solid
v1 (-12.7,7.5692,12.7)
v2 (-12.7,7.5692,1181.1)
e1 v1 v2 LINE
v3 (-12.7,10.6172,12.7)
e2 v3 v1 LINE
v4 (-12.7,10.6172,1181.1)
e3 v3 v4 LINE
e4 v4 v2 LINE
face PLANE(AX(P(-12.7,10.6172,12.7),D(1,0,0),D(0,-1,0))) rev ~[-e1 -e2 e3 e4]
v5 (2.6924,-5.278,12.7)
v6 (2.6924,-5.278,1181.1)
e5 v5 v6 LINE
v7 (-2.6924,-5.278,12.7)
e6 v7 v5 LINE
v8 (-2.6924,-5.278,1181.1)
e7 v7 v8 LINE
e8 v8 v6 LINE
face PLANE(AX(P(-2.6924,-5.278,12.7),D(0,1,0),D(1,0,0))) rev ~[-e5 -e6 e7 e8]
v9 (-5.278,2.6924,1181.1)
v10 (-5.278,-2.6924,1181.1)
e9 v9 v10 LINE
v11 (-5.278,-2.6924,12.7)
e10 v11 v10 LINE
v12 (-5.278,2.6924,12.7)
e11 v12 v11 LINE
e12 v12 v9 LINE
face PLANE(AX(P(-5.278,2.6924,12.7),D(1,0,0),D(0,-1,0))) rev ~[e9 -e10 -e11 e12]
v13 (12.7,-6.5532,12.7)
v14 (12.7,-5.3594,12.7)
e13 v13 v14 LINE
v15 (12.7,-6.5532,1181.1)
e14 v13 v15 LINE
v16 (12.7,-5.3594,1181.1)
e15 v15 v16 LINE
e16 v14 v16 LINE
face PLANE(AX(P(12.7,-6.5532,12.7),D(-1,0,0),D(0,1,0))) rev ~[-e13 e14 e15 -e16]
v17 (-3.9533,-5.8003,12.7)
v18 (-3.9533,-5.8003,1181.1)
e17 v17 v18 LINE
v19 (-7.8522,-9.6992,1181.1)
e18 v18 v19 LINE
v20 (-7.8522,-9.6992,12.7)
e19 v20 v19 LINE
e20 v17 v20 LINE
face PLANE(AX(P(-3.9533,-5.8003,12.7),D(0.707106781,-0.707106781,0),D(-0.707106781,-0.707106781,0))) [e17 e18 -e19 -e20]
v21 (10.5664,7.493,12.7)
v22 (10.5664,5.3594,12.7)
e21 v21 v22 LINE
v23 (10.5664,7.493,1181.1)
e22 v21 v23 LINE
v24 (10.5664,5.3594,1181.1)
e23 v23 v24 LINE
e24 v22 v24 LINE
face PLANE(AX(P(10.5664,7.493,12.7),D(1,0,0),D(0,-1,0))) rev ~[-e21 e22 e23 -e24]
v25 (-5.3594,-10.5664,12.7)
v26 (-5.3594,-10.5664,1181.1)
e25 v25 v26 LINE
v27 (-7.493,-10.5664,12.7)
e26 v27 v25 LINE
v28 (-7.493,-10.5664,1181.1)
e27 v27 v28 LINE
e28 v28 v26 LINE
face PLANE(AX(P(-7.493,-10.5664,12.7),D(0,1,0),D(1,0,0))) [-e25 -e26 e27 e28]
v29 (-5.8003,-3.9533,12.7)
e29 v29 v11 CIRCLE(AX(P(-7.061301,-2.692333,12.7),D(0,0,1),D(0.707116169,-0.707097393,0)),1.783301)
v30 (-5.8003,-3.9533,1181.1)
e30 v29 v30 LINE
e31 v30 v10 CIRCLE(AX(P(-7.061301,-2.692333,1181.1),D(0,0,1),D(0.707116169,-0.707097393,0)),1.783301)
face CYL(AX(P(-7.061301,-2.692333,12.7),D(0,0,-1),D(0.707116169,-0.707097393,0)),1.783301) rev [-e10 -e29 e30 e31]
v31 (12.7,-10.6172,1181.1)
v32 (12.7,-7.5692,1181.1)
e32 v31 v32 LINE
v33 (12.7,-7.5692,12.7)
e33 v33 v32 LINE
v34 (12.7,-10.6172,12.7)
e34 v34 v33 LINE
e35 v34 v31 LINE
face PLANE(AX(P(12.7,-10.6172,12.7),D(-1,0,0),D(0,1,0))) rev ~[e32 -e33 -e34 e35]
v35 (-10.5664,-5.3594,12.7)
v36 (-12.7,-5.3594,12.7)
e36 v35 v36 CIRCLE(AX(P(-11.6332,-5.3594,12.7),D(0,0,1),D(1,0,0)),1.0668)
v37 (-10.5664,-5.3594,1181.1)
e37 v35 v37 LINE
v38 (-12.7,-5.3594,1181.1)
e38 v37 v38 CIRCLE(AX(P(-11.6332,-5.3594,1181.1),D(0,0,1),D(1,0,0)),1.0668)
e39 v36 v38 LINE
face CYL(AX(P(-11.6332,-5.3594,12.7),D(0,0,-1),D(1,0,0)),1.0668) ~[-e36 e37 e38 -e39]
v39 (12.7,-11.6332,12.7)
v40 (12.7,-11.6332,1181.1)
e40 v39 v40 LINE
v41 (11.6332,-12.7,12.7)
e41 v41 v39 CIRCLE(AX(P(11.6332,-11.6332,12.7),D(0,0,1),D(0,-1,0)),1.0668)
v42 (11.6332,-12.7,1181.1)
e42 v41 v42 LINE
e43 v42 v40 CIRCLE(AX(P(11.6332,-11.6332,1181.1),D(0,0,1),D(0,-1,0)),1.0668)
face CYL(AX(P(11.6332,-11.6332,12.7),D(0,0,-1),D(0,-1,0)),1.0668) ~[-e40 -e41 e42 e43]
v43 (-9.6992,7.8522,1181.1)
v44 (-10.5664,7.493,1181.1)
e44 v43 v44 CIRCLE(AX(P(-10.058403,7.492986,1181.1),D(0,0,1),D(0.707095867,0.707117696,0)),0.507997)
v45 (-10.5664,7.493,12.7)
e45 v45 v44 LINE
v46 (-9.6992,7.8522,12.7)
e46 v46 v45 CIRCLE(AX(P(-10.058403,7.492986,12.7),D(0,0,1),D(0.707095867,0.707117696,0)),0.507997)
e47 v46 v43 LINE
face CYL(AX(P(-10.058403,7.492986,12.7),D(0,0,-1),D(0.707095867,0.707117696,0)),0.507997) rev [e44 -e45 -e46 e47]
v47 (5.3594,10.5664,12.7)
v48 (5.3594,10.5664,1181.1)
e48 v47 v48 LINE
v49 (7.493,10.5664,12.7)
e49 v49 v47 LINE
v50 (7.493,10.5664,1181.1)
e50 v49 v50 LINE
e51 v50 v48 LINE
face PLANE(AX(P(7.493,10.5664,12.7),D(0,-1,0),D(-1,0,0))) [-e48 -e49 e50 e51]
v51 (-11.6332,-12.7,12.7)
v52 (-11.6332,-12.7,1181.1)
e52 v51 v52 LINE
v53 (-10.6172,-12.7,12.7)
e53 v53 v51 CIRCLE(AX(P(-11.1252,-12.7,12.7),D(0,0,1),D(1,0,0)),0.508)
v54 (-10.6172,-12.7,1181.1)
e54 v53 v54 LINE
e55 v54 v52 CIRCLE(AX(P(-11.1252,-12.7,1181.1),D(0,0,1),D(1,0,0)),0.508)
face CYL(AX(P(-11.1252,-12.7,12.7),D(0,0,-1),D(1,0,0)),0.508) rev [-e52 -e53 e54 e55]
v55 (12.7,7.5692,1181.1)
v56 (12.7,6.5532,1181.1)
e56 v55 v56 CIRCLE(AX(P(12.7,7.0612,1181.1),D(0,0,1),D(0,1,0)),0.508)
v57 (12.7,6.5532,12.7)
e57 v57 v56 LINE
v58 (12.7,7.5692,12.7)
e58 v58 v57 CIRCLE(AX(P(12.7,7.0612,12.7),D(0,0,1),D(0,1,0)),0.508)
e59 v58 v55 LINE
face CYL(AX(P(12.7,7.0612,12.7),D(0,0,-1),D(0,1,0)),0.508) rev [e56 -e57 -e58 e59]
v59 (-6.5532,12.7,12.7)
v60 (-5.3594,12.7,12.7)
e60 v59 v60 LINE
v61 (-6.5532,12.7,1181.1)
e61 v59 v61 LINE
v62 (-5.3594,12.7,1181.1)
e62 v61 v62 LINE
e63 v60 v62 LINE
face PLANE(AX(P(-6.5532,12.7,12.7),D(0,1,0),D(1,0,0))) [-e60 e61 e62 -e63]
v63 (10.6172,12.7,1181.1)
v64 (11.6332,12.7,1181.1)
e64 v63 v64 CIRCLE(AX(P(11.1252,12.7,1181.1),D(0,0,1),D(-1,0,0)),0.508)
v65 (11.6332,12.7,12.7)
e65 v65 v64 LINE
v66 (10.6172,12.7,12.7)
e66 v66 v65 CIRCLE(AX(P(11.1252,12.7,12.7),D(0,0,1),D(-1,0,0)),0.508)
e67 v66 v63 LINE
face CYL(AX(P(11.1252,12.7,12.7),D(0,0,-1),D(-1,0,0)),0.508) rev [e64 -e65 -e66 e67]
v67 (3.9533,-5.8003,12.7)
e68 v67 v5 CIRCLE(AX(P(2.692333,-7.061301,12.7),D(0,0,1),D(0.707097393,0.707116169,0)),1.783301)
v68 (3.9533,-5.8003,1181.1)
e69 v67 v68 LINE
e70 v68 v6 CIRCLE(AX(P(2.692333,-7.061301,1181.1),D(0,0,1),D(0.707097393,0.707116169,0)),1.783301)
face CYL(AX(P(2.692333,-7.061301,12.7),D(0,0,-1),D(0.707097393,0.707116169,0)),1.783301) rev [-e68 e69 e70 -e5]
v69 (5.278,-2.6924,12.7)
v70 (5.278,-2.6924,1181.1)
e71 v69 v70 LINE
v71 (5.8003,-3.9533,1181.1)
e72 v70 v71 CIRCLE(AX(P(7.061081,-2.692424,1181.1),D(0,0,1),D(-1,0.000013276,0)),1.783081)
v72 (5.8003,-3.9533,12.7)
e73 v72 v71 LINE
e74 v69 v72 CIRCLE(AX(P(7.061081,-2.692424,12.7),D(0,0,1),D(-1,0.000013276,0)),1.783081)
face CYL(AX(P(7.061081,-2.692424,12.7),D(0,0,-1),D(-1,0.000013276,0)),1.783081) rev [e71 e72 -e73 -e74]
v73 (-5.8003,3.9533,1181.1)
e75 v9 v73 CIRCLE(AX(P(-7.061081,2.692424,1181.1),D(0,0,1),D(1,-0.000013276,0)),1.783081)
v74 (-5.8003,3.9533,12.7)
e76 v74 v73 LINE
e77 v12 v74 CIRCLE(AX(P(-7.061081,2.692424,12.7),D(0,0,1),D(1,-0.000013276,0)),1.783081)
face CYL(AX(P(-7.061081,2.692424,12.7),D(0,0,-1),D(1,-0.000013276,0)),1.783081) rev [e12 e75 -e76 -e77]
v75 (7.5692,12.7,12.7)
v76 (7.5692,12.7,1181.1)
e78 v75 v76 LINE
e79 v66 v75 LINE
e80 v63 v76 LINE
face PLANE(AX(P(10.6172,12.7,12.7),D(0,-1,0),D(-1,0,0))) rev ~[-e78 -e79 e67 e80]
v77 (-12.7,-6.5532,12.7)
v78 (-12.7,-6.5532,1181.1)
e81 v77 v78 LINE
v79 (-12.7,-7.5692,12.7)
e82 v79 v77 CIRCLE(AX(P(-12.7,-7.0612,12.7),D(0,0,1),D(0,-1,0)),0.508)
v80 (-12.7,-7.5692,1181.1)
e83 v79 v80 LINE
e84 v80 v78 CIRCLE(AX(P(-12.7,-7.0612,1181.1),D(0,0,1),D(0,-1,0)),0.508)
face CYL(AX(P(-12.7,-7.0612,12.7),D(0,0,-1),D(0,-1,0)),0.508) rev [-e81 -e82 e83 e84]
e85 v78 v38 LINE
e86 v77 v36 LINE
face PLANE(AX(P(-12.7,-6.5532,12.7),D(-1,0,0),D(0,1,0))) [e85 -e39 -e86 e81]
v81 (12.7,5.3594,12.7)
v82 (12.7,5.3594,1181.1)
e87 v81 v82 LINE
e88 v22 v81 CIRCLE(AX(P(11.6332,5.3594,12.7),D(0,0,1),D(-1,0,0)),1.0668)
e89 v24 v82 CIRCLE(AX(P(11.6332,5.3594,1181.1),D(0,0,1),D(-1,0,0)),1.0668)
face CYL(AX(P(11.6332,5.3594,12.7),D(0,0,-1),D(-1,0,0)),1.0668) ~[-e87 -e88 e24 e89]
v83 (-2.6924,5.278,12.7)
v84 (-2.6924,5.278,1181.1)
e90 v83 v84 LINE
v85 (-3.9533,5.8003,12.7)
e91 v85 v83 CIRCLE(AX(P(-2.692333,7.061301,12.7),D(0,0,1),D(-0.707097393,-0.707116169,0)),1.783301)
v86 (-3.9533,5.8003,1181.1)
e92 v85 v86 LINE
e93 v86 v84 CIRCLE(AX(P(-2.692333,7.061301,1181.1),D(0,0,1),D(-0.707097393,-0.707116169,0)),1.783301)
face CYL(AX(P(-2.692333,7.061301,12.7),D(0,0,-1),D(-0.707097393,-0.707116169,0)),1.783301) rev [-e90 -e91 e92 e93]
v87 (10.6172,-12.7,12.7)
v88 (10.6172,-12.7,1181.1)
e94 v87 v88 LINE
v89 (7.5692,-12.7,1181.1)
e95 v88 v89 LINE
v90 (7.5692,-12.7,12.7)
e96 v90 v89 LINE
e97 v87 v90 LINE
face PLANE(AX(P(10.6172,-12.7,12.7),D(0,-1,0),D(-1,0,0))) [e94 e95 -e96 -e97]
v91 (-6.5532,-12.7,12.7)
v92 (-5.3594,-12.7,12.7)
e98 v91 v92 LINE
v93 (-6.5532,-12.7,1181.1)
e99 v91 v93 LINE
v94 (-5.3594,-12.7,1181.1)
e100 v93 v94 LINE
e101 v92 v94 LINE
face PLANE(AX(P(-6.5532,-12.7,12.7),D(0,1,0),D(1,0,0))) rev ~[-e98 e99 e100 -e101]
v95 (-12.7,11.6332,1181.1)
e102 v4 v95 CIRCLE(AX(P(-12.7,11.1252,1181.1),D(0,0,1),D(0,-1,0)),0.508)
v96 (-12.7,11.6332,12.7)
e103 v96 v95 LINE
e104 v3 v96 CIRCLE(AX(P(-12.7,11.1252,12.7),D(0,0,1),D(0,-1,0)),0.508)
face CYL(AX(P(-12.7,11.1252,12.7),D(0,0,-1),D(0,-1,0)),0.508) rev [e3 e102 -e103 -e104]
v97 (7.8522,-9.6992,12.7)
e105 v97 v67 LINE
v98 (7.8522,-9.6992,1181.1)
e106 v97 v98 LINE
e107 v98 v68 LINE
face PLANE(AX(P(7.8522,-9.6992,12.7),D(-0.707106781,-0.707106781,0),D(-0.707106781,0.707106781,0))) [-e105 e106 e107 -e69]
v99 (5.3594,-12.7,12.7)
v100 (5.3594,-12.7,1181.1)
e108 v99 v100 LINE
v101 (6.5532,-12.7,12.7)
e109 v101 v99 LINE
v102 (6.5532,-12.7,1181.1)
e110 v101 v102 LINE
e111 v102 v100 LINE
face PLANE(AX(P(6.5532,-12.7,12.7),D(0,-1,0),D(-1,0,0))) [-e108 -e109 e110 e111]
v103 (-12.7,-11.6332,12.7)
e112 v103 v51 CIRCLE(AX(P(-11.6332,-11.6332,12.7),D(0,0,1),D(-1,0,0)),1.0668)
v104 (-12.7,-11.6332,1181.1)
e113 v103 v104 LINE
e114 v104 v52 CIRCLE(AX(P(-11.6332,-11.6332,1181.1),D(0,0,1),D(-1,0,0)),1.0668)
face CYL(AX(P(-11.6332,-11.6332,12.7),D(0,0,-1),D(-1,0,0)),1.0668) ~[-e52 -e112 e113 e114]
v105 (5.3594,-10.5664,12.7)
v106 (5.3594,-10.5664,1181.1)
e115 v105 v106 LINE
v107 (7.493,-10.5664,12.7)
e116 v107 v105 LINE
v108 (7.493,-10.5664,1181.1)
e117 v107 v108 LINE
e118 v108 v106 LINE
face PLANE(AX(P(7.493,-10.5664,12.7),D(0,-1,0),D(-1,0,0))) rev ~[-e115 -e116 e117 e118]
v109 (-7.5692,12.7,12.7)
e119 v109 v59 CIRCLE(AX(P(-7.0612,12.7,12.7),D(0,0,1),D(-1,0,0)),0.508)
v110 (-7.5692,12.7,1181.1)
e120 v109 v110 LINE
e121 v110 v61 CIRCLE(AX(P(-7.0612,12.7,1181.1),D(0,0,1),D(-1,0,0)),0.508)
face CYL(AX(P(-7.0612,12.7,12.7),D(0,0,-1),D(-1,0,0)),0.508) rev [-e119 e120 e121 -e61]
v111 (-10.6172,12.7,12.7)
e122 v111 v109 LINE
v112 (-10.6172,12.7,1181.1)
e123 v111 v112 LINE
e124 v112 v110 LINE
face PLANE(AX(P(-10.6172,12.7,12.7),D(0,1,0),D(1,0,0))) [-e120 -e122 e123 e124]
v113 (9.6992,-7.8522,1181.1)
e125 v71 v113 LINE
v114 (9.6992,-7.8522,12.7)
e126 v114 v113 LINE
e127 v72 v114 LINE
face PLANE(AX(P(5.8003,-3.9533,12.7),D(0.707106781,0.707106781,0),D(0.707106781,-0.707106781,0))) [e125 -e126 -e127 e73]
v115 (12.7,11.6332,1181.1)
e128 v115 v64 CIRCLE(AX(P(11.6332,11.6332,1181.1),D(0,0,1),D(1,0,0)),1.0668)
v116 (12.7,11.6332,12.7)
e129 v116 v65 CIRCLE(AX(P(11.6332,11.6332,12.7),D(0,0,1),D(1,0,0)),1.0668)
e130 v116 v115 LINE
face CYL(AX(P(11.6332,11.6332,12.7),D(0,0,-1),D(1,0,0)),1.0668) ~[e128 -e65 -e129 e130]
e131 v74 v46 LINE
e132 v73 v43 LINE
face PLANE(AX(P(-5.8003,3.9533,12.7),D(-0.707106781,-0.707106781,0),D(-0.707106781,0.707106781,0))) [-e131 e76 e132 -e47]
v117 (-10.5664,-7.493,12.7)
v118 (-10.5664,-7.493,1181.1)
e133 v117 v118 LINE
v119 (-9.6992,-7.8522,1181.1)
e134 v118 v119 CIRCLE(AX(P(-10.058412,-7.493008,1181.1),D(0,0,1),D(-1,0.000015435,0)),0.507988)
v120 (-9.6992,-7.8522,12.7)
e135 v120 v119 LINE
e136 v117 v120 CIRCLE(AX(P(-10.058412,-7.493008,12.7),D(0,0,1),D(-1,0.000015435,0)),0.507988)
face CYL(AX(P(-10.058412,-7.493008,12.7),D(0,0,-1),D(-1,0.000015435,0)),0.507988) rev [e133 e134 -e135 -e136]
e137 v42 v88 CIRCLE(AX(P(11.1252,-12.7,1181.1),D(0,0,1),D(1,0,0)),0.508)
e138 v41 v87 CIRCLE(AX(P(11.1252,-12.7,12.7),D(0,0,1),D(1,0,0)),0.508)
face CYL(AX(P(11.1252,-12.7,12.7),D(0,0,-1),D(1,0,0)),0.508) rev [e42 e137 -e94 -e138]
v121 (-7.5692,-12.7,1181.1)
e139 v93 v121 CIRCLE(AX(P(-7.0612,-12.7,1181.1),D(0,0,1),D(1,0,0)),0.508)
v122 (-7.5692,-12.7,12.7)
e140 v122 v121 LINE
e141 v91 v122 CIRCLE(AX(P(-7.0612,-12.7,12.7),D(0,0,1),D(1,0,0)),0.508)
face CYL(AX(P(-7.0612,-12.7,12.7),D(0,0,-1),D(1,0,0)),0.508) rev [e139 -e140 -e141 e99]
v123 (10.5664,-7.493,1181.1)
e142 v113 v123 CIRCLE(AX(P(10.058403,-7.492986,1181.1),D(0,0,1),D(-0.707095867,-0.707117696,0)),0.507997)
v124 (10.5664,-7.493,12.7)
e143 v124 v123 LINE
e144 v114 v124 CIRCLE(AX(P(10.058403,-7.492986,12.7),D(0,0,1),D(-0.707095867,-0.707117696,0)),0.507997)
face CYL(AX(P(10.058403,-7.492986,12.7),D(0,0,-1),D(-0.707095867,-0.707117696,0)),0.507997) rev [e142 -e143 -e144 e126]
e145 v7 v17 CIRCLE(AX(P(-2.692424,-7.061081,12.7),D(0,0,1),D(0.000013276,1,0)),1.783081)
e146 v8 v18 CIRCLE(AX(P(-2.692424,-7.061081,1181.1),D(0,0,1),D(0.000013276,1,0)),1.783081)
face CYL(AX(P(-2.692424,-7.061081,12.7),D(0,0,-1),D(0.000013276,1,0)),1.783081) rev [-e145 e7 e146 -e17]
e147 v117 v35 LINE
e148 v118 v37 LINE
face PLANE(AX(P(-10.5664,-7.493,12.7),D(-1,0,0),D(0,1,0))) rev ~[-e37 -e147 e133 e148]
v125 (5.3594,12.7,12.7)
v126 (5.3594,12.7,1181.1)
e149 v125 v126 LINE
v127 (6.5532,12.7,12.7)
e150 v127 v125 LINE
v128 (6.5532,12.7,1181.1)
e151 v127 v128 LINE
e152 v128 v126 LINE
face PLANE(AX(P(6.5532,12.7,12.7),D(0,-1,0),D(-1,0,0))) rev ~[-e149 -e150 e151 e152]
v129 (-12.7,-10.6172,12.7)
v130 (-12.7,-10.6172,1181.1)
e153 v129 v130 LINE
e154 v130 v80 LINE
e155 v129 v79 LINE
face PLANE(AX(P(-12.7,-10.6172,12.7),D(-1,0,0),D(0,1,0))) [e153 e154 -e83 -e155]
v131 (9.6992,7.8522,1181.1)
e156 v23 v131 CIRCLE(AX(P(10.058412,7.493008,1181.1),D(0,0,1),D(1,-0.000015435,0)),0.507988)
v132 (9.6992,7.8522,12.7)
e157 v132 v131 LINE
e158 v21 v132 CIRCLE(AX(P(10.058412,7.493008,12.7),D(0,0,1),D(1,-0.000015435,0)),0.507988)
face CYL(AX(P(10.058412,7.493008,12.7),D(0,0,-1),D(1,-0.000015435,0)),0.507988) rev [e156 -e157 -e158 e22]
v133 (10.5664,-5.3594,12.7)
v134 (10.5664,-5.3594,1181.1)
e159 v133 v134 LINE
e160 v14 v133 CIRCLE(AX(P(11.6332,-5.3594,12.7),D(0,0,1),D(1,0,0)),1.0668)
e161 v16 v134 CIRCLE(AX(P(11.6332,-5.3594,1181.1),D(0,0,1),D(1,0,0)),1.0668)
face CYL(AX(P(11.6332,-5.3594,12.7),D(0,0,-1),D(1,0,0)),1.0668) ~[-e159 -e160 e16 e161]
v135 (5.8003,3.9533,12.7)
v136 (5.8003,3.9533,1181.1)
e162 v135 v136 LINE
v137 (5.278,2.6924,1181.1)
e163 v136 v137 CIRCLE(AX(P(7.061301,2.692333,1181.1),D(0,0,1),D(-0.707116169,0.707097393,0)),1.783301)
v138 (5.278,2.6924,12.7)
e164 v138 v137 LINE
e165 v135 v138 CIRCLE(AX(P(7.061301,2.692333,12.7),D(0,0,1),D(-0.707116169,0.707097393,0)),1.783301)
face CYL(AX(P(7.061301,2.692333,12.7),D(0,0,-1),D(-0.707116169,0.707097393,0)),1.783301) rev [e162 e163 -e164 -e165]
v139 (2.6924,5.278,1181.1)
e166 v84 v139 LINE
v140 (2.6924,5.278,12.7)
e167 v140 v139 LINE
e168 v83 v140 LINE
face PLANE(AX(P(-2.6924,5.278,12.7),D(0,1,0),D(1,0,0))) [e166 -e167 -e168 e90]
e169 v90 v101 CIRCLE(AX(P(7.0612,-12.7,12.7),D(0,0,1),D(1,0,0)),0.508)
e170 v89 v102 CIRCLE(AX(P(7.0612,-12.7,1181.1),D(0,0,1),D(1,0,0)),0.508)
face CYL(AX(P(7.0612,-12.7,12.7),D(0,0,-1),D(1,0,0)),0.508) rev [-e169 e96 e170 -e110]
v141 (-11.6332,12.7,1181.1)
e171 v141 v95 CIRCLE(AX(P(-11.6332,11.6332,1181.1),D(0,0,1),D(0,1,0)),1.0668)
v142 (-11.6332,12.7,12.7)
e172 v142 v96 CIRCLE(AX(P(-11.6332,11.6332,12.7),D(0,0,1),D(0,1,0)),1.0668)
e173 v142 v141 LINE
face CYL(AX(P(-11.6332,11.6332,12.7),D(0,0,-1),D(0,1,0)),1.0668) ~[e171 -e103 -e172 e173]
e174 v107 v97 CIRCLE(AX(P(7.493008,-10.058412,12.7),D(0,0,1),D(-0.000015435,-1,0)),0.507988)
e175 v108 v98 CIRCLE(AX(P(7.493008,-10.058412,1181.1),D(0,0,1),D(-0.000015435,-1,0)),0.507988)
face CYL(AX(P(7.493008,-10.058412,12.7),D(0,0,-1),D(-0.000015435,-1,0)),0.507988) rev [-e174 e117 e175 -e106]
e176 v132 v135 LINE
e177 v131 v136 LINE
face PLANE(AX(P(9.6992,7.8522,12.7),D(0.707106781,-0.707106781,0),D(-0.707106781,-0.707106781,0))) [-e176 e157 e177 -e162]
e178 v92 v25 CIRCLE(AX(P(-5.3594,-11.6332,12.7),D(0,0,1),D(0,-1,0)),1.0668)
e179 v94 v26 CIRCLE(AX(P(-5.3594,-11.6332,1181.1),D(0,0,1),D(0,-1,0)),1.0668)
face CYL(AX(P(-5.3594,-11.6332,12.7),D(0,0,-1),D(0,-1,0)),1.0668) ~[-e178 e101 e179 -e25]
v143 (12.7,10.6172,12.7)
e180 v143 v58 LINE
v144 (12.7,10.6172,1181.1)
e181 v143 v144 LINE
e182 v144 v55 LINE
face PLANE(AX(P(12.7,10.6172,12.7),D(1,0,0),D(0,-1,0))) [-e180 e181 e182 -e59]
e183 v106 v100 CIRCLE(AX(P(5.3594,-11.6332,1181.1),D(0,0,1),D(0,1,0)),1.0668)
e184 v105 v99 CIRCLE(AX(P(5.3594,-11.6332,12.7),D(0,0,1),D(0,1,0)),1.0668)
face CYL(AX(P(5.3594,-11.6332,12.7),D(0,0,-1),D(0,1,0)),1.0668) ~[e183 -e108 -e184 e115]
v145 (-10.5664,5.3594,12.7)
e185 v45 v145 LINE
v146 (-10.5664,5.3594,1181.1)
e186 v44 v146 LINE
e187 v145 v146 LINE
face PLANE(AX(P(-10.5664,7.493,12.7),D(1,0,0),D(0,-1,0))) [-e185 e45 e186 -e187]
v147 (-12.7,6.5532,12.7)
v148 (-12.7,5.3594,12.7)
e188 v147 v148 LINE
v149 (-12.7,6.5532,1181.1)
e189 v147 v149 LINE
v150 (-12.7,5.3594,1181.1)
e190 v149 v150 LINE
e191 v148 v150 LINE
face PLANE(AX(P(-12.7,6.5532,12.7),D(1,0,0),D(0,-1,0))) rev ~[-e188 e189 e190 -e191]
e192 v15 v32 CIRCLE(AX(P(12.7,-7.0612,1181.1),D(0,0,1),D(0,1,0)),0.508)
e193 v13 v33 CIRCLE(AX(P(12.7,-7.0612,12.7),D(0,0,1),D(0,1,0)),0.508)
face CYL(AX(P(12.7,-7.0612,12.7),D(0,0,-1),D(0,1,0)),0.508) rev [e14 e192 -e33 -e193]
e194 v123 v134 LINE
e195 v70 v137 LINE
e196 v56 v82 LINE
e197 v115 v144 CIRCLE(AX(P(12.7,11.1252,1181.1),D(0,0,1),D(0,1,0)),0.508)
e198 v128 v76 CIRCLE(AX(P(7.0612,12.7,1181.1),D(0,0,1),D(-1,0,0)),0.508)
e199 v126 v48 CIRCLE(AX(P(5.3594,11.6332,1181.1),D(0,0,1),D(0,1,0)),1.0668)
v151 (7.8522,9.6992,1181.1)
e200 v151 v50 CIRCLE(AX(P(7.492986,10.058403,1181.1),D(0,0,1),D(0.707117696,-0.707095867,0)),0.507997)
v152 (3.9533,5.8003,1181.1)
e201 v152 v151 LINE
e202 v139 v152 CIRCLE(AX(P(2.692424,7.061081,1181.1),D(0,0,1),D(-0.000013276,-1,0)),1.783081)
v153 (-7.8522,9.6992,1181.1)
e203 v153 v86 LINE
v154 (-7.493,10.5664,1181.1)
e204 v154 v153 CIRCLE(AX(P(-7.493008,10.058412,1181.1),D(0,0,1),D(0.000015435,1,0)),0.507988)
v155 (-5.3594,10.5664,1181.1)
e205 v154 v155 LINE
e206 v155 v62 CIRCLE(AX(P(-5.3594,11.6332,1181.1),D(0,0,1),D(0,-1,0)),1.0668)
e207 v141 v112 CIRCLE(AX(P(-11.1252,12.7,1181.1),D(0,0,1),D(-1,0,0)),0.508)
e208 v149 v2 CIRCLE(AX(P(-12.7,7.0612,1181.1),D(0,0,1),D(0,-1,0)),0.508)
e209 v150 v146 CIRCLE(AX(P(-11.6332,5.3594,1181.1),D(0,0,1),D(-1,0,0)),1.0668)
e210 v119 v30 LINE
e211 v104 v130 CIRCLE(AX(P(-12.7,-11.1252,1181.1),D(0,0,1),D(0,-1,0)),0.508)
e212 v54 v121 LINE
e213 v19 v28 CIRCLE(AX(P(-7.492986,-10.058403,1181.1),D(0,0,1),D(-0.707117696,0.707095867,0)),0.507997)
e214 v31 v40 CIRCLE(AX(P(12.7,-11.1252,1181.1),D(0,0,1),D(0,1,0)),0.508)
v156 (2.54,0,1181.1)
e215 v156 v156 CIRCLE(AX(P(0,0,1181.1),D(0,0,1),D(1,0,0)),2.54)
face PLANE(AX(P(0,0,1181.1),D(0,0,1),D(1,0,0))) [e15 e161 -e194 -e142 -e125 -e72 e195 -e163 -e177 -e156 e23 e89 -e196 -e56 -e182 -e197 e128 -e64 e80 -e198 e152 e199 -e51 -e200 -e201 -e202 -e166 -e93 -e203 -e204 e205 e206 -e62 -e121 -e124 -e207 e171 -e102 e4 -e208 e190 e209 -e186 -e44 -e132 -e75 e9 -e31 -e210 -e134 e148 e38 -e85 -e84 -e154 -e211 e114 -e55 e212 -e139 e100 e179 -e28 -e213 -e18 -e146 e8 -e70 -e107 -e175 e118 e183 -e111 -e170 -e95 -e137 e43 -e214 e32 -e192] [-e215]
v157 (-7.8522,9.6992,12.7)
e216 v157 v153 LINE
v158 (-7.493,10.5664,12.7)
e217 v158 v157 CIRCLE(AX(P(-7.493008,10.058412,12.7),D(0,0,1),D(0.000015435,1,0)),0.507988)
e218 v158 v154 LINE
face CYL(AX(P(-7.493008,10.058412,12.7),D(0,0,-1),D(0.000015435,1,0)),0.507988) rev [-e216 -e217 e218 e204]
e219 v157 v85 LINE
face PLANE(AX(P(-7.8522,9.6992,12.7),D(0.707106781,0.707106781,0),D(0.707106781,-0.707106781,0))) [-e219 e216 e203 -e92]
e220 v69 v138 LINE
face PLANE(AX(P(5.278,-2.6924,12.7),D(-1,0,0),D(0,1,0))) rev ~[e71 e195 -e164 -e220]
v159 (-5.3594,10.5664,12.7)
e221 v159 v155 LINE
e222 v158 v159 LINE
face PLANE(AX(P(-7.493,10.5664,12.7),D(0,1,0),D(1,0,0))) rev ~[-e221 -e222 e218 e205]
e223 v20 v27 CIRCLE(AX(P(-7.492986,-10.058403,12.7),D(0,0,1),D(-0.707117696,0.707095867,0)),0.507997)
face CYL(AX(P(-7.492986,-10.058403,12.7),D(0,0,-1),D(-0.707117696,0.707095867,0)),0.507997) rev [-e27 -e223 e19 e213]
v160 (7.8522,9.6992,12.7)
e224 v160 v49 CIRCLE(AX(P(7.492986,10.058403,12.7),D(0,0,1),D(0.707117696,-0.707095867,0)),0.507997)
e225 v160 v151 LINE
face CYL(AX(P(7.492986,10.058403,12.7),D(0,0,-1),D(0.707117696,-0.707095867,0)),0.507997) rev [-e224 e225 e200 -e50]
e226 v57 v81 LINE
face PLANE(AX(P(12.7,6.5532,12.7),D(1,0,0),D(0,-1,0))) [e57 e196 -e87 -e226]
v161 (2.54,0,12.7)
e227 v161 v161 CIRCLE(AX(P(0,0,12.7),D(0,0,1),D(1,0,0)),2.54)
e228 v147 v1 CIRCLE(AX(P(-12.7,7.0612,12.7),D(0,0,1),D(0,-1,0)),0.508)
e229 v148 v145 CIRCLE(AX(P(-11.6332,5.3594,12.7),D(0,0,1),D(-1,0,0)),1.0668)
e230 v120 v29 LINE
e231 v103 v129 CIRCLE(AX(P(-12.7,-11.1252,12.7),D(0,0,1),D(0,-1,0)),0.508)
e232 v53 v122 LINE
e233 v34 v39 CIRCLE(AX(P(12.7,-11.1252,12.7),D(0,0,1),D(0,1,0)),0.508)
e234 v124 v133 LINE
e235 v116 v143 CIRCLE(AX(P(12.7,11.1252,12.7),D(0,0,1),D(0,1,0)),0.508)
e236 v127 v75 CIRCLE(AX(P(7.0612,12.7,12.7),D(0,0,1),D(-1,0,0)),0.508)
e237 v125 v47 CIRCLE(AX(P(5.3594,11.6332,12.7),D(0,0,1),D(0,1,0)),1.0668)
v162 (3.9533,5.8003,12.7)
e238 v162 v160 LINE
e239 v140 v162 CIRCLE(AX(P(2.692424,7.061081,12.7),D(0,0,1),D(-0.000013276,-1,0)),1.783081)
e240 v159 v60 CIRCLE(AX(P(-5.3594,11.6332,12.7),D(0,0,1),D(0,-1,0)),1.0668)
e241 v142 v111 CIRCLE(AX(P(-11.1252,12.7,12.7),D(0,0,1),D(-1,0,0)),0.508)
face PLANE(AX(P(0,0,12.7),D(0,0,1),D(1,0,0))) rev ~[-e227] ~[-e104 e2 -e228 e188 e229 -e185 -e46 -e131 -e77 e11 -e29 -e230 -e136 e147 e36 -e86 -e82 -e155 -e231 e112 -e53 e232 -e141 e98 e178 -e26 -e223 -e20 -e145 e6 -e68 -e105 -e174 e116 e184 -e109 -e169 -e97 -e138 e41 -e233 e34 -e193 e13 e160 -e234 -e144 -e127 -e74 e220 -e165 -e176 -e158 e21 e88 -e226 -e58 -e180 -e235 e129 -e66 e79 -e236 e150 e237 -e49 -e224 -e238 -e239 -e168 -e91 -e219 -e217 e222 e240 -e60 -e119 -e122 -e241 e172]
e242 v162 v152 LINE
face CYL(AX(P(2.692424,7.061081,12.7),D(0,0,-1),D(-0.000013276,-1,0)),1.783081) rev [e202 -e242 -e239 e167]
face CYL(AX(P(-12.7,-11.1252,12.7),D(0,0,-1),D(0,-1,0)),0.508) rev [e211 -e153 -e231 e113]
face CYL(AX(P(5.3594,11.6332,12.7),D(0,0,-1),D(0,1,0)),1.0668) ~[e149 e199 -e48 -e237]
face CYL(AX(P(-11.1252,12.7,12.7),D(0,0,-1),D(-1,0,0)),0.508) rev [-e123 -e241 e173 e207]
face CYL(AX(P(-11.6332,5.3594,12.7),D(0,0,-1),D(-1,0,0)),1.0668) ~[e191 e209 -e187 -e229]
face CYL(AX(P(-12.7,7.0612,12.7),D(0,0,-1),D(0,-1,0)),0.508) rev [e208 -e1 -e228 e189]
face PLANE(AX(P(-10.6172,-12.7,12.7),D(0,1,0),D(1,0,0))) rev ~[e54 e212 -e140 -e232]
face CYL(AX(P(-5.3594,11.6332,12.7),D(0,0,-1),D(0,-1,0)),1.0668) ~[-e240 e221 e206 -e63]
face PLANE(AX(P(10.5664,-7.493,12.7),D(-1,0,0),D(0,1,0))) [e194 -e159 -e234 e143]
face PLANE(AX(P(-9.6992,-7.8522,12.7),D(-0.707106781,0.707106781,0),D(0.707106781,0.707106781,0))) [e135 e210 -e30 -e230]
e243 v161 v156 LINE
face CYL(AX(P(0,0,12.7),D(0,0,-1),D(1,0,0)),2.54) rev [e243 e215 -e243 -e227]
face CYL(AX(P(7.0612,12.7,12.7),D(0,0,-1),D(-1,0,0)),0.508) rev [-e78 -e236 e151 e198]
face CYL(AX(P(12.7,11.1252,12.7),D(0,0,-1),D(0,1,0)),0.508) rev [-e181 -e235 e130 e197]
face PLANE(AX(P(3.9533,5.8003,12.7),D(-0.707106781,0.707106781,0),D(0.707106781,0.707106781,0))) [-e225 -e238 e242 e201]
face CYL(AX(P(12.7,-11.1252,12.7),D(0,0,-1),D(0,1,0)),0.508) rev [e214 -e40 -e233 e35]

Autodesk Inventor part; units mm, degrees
ref_plane "Start Plane" through (0, 0, 12.7) normal (0, 0, 1) x (1, 0, 0)
ref_plane "End Plane" through (0, 0, 1181.1) normal (0, 0, 1) x (1, 0, 0)
sketch "Sketch" plane through (0, 0, 0) normal (0, 0, 1) x (1, 0, 0)
  arc A0 (-11.6332, 12.7) -> (-12.7, 11.6332) centre (-11.6332, 11.6332) ccw
  arc A1 (-5.3594, 10.5664) -> (-5.3594, 12.7) centre (-5.3594, 11.6332) ccw
  arc A2 (-12.7, 5.3594) -> (-10.5664, 5.3594) centre (-11.6332, 5.3594) ccw
  line L0 (-10.5664, 7.493) -> (-10.5664, 5.3594)
  line L1 (-7.493, 10.5664) -> (-5.3594, 10.5664)
  arc A3 (-9.6992, 7.8522) -> (-10.5664, 7.493) centre (-10.0584, 7.493) ccw
  arc A4 (-7.493, 10.5664) -> (-7.8522, 9.6992) centre (-7.493, 10.0584) ccw
  line L2 (-11.6332, 11.6332) -> (0, 0) construction
  line L3 (-5.8003, 3.9533) -> (-9.6992, 7.8522)
  line L4 (-7.8522, 9.6992) -> (-3.9533, 5.8003)
  arc A5 (-3.9533, 5.8003) -> (-2.6924, 5.278) centre (-2.6924, 7.0612) ccw
  arc A6 (-5.278, 2.6924) -> (-5.8003, 3.9533) centre (-7.0612, 2.6924) ccw
  arc A7 (0, 2.54) -> (-2.54, 0) centre (0, 0) ccw construction
  line L5 (0, 0) -> (-12.7, 0) construction
  line L6 (0, 12.7) -> (0, 0) construction
  arc A8 (-11.6332, 12.7) -> (-10.6172, 12.7) centre (-11.1252, 12.7) ccw
  arc A9 (-7.5692, 12.7) -> (-6.5532, 12.7) centre (-7.0612, 12.7) ccw
  arc A10 (-12.7, 10.6172) -> (-12.7, 11.6332) centre (-12.7, 11.1252) ccw
  arc A11 (-12.7, 6.5532) -> (-12.7, 7.5692) centre (-12.7, 7.0612) ccw
  line L7 (-12.7, 10.6172) -> (-12.7, 7.5692)
  line L8 (-12.7, 6.5532) -> (-12.7, 5.3594)
  line L9 (-10.6172, 12.7) -> (-7.5692, 12.7)
  line L10 (-6.5532, 12.7) -> (-5.3594, 12.7)
  circle A12 centre (0, 0) radius 2.54
  arc A13 (-12.7, -11.6332) -> (-11.6332, -12.7) centre (-11.6332, -11.6332) ccw
  line L11 (-12.7, -10.6172) -> (-12.7, -7.5692)
  arc A14 (-10.5664, -7.493) -> (-9.6992, -7.8522) centre (-10.0584, -7.493) ccw
  line L12 (-9.6992, -7.8522) -> (-5.8003, -3.9533)
  line L13 (-11.6332, -11.6332) -> (0, 0) construction
  line L14 (-3.9533, -5.8003) -> (-7.8522, -9.6992)
  arc A15 (-7.8522, -9.6992) -> (-7.493, -10.5664) centre (-7.493, -10.0584) ccw
  line L15 (-10.6172, -12.7) -> (-7.5692, -12.7)
  line L16 (-7.493, -10.5664) -> (-5.3594, -10.5664)
  arc A16 (-6.5532, -12.7) -> (-7.5692, -12.7) centre (-7.0612, -12.7) ccw
  line L17 (-6.5532, -12.7) -> (-5.3594, -12.7)
  arc A17 (-5.3594, -12.7) -> (-5.3594, -10.5664) centre (-5.3594, -11.6332) ccw
  arc A18 (-10.6172, -12.7) -> (-11.6332, -12.7) centre (-11.1252, -12.7) ccw
  arc A19 (-12.7, -11.6332) -> (-12.7, -10.6172) centre (-12.7, -11.1252) ccw
  arc A20 (-2.6924, -5.278) -> (-3.9533, -5.8003) centre (-2.6924, -7.0612) ccw
  arc A21 (-5.8003, -3.9533) -> (-5.278, -2.6924) centre (-7.0612, -2.6924) ccw
  line L18 (-10.5664, -7.493) -> (-10.5664, -5.3594)
  line L19 (-12.7, -6.5532) -> (-12.7, -5.3594)
  arc A22 (-10.5664, -5.3594) -> (-12.7, -5.3594) centre (-11.6332, -5.3594) ccw
  arc A23 (-12.7, -7.5692) -> (-12.7, -6.5532) centre (-12.7, -7.0612) ccw
  arc A24 (11.6332, -12.7) -> (12.7, -11.6332) centre (11.6332, -11.6332) ccw
  line L20 (10.6172, -12.7) -> (7.5692, -12.7)
  arc A25 (7.493, -10.5664) -> (7.8522, -9.6992) centre (7.493, -10.0584) ccw
  line L21 (7.8522, -9.6992) -> (3.9533, -5.8003)
  line L22 (11.6332, -11.6332) -> (0, 0) construction
  line L23 (5.8003, -3.9533) -> (9.6992, -7.8522)
  arc A26 (9.6992, -7.8522) -> (10.5664, -7.493) centre (10.0584, -7.493) ccw
  line L24 (12.7, -10.6172) -> (12.7, -7.5692)
  line L25 (10.5664, -7.493) -> (10.5664, -5.3594)
  arc A27 (12.7, -6.5532) -> (12.7, -7.5692) centre (12.7, -7.0612) ccw
  line L26 (12.7, -6.5532) -> (12.7, -5.3594)
  arc A28 (12.7, -5.3594) -> (10.5664, -5.3594) centre (11.6332, -5.3594) ccw
  arc A29 (12.7, -10.6172) -> (12.7, -11.6332) centre (12.7, -11.1252) ccw
  arc A30 (11.6332, -12.7) -> (10.6172, -12.7) centre (11.1252, -12.7) ccw
  arc A31 (5.278, -2.6924) -> (5.8003, -3.9533) centre (7.0612, -2.6924) ccw
  arc A32 (3.9533, -5.8003) -> (2.6924, -5.278) centre (2.6924, -7.0612) ccw
  line L27 (7.493, -10.5664) -> (5.3594, -10.5664)
  line L28 (6.5532, -12.7) -> (5.3594, -12.7)
  arc A33 (5.3594, -10.5664) -> (5.3594, -12.7) centre (5.3594, -11.6332) ccw
  arc A34 (7.5692, -12.7) -> (6.5532, -12.7) centre (7.0612, -12.7) ccw
  arc A35 (12.7, 11.6332) -> (11.6332, 12.7) centre (11.6332, 11.6332) ccw
  line L29 (12.7, 10.6172) -> (12.7, 7.5692)
  arc A36 (10.5664, 7.493) -> (9.6992, 7.8522) centre (10.0584, 7.493) ccw
  line L30 (9.6992, 7.8522) -> (5.8003, 3.9533)
  line L31 (11.6332, 11.6332) -> (0, 0) construction
  line L32 (3.9533, 5.8003) -> (7.8522, 9.6992)
  arc A37 (7.8522, 9.6992) -> (7.493, 10.5664) centre (7.493, 10.0584) ccw
  line L33 (10.6172, 12.7) -> (7.5692, 12.7)
  line L34 (7.493, 10.5664) -> (5.3594, 10.5664)
  arc A38 (6.5532, 12.7) -> (7.5692, 12.7) centre (7.0612, 12.7) ccw
  line L35 (6.5532, 12.7) -> (5.3594, 12.7)
  arc A39 (5.3594, 12.7) -> (5.3594, 10.5664) centre (5.3594, 11.6332) ccw
  arc A40 (10.6172, 12.7) -> (11.6332, 12.7) centre (11.1252, 12.7) ccw
  arc A41 (12.7, 11.6332) -> (12.7, 10.6172) centre (12.7, 11.1252) ccw
  arc A42 (2.6924, 5.278) -> (3.9533, 5.8003) centre (2.6924, 7.0612) ccw
  arc A43 (5.8003, 3.9533) -> (5.278, 2.6924) centre (7.0612, 2.6924) ccw
  line L36 (10.5664, 7.493) -> (10.5664, 5.3594)
  line L37 (12.7, 6.5532) -> (12.7, 5.3594)
  arc A44 (10.5664, 5.3594) -> (12.7, 5.3594) centre (11.6332, 5.3594) ccw
  arc A45 (12.7, 7.5692) -> (12.7, 6.5532) centre (12.7, 7.0612) ccw
  line L38 (-2.6924, 5.278) -> (2.6924, 5.278)
  line L39 (-5.278, 2.6924) -> (-5.278, -2.6924)
  line L40 (-2.6924, -5.278) -> (2.6924, -5.278)
  line L41 (5.278, -2.6924) -> (5.278, 2.6924)
  point P0 (0, 0)
  point P1 (0, 0)
  dimension "d2" = 2.1336
  dimension "d3" = 6.2738
  dimension "d4" = 6.2738
  dimension "d5" = 1.0668
  dimension "d6" = 2.1336
  dimension "d7" = 2.1336
  dimension "d8" = 1.016
  dimension "d9" = 1.016
  dimension "d10" = 135
  dimension "d11" = 2.667
  dimension "d12" = 4.572
  dimension "d13" = 4.572
  dimension "d14" = 2.667
  dimension "d15" = 5.08
  dimension "d16" = 45
  dimension "d19" = 45
  dimension "d20" = 0.508
  dimension "d21" = 4.572
  dimension "d22" = 1.016
  dimension "d23" = 4.572
  dimension "d24" = 1.016
  dimension "d25" = 0.508
  dimension "d26" = 0.508
  dimension "d27" = 0.508
  dimension "d28" = 12.7
  dimension "d37" = 360
  dimension "d47" = 10.5664
  dimension "d48" = 12.7
extrude "Body" add sketch "Sketch" along normal up to surface (1168.4 mm away) from surface at 12.7
sketch "Sketch2" plane through (0, 0, 0) normal (0, 0, 1) x (1, 0, 0)
  line L0 (0, 0) -> (10, 0)
ref_plane "Work Plane3" through (0, 0, 0) normal (0, -1, 0) x (1, 0, 0)
sketch "Sketch3" plane through (0, 0, 0) normal (0, -1, 0) x (1, 0, 0)
  line L0 (-2, 12.7) -> (12, 12.7)
  line L1 (-2, 1181.1) -> (12, 1181.1)
  dimension "d60" = 1168.4
ref_plane "Work Plane4" through (7.5692, -279.4, 1181.1) normal (0, 0, 1) x (1, 0, 0)
split "Split1" plane through (7.5692, -279.4, 1181.1) removes the side toward (0, 0, 1)
ref_plane "Work Plane5" through (7.5692, 0, 12.7) normal (0, 0, -1) x (-1, 0, 0)
split "Split2" plane through (7.5692, 0, 12.7) removes the side toward (0, 0, -1)
equation "\"d3\" = d4"
equation "\"d6\" = d7"
equation "\"d11\" = d14"
equation "\"d12\" = d13"
equation "\"d23\" = d21"
equation "\"d24\" = d30"
equation "\"d26\" = 0.5 * d24"
equation "\"d27\" = 0.5 * d22"
equation "\"Width\" = 2 * d28"
equation "\"Height\" = 2 * d48"
equation "\"G_OFFSET_START\" = -12.7"
equation "\"G_OFFSET_END\" = -12.7"
equation "\"d55\" = -G_OFFSET_START"
equation "\"d56\" = Length + G_OFFSET_END"
equation "\"G_L\" = 1193.8"
equation "\"d30\" = 1.016"
equation "\"Length\" = 1193.8"
properties part number "1010_80_20" material "Aluminum-6061"
